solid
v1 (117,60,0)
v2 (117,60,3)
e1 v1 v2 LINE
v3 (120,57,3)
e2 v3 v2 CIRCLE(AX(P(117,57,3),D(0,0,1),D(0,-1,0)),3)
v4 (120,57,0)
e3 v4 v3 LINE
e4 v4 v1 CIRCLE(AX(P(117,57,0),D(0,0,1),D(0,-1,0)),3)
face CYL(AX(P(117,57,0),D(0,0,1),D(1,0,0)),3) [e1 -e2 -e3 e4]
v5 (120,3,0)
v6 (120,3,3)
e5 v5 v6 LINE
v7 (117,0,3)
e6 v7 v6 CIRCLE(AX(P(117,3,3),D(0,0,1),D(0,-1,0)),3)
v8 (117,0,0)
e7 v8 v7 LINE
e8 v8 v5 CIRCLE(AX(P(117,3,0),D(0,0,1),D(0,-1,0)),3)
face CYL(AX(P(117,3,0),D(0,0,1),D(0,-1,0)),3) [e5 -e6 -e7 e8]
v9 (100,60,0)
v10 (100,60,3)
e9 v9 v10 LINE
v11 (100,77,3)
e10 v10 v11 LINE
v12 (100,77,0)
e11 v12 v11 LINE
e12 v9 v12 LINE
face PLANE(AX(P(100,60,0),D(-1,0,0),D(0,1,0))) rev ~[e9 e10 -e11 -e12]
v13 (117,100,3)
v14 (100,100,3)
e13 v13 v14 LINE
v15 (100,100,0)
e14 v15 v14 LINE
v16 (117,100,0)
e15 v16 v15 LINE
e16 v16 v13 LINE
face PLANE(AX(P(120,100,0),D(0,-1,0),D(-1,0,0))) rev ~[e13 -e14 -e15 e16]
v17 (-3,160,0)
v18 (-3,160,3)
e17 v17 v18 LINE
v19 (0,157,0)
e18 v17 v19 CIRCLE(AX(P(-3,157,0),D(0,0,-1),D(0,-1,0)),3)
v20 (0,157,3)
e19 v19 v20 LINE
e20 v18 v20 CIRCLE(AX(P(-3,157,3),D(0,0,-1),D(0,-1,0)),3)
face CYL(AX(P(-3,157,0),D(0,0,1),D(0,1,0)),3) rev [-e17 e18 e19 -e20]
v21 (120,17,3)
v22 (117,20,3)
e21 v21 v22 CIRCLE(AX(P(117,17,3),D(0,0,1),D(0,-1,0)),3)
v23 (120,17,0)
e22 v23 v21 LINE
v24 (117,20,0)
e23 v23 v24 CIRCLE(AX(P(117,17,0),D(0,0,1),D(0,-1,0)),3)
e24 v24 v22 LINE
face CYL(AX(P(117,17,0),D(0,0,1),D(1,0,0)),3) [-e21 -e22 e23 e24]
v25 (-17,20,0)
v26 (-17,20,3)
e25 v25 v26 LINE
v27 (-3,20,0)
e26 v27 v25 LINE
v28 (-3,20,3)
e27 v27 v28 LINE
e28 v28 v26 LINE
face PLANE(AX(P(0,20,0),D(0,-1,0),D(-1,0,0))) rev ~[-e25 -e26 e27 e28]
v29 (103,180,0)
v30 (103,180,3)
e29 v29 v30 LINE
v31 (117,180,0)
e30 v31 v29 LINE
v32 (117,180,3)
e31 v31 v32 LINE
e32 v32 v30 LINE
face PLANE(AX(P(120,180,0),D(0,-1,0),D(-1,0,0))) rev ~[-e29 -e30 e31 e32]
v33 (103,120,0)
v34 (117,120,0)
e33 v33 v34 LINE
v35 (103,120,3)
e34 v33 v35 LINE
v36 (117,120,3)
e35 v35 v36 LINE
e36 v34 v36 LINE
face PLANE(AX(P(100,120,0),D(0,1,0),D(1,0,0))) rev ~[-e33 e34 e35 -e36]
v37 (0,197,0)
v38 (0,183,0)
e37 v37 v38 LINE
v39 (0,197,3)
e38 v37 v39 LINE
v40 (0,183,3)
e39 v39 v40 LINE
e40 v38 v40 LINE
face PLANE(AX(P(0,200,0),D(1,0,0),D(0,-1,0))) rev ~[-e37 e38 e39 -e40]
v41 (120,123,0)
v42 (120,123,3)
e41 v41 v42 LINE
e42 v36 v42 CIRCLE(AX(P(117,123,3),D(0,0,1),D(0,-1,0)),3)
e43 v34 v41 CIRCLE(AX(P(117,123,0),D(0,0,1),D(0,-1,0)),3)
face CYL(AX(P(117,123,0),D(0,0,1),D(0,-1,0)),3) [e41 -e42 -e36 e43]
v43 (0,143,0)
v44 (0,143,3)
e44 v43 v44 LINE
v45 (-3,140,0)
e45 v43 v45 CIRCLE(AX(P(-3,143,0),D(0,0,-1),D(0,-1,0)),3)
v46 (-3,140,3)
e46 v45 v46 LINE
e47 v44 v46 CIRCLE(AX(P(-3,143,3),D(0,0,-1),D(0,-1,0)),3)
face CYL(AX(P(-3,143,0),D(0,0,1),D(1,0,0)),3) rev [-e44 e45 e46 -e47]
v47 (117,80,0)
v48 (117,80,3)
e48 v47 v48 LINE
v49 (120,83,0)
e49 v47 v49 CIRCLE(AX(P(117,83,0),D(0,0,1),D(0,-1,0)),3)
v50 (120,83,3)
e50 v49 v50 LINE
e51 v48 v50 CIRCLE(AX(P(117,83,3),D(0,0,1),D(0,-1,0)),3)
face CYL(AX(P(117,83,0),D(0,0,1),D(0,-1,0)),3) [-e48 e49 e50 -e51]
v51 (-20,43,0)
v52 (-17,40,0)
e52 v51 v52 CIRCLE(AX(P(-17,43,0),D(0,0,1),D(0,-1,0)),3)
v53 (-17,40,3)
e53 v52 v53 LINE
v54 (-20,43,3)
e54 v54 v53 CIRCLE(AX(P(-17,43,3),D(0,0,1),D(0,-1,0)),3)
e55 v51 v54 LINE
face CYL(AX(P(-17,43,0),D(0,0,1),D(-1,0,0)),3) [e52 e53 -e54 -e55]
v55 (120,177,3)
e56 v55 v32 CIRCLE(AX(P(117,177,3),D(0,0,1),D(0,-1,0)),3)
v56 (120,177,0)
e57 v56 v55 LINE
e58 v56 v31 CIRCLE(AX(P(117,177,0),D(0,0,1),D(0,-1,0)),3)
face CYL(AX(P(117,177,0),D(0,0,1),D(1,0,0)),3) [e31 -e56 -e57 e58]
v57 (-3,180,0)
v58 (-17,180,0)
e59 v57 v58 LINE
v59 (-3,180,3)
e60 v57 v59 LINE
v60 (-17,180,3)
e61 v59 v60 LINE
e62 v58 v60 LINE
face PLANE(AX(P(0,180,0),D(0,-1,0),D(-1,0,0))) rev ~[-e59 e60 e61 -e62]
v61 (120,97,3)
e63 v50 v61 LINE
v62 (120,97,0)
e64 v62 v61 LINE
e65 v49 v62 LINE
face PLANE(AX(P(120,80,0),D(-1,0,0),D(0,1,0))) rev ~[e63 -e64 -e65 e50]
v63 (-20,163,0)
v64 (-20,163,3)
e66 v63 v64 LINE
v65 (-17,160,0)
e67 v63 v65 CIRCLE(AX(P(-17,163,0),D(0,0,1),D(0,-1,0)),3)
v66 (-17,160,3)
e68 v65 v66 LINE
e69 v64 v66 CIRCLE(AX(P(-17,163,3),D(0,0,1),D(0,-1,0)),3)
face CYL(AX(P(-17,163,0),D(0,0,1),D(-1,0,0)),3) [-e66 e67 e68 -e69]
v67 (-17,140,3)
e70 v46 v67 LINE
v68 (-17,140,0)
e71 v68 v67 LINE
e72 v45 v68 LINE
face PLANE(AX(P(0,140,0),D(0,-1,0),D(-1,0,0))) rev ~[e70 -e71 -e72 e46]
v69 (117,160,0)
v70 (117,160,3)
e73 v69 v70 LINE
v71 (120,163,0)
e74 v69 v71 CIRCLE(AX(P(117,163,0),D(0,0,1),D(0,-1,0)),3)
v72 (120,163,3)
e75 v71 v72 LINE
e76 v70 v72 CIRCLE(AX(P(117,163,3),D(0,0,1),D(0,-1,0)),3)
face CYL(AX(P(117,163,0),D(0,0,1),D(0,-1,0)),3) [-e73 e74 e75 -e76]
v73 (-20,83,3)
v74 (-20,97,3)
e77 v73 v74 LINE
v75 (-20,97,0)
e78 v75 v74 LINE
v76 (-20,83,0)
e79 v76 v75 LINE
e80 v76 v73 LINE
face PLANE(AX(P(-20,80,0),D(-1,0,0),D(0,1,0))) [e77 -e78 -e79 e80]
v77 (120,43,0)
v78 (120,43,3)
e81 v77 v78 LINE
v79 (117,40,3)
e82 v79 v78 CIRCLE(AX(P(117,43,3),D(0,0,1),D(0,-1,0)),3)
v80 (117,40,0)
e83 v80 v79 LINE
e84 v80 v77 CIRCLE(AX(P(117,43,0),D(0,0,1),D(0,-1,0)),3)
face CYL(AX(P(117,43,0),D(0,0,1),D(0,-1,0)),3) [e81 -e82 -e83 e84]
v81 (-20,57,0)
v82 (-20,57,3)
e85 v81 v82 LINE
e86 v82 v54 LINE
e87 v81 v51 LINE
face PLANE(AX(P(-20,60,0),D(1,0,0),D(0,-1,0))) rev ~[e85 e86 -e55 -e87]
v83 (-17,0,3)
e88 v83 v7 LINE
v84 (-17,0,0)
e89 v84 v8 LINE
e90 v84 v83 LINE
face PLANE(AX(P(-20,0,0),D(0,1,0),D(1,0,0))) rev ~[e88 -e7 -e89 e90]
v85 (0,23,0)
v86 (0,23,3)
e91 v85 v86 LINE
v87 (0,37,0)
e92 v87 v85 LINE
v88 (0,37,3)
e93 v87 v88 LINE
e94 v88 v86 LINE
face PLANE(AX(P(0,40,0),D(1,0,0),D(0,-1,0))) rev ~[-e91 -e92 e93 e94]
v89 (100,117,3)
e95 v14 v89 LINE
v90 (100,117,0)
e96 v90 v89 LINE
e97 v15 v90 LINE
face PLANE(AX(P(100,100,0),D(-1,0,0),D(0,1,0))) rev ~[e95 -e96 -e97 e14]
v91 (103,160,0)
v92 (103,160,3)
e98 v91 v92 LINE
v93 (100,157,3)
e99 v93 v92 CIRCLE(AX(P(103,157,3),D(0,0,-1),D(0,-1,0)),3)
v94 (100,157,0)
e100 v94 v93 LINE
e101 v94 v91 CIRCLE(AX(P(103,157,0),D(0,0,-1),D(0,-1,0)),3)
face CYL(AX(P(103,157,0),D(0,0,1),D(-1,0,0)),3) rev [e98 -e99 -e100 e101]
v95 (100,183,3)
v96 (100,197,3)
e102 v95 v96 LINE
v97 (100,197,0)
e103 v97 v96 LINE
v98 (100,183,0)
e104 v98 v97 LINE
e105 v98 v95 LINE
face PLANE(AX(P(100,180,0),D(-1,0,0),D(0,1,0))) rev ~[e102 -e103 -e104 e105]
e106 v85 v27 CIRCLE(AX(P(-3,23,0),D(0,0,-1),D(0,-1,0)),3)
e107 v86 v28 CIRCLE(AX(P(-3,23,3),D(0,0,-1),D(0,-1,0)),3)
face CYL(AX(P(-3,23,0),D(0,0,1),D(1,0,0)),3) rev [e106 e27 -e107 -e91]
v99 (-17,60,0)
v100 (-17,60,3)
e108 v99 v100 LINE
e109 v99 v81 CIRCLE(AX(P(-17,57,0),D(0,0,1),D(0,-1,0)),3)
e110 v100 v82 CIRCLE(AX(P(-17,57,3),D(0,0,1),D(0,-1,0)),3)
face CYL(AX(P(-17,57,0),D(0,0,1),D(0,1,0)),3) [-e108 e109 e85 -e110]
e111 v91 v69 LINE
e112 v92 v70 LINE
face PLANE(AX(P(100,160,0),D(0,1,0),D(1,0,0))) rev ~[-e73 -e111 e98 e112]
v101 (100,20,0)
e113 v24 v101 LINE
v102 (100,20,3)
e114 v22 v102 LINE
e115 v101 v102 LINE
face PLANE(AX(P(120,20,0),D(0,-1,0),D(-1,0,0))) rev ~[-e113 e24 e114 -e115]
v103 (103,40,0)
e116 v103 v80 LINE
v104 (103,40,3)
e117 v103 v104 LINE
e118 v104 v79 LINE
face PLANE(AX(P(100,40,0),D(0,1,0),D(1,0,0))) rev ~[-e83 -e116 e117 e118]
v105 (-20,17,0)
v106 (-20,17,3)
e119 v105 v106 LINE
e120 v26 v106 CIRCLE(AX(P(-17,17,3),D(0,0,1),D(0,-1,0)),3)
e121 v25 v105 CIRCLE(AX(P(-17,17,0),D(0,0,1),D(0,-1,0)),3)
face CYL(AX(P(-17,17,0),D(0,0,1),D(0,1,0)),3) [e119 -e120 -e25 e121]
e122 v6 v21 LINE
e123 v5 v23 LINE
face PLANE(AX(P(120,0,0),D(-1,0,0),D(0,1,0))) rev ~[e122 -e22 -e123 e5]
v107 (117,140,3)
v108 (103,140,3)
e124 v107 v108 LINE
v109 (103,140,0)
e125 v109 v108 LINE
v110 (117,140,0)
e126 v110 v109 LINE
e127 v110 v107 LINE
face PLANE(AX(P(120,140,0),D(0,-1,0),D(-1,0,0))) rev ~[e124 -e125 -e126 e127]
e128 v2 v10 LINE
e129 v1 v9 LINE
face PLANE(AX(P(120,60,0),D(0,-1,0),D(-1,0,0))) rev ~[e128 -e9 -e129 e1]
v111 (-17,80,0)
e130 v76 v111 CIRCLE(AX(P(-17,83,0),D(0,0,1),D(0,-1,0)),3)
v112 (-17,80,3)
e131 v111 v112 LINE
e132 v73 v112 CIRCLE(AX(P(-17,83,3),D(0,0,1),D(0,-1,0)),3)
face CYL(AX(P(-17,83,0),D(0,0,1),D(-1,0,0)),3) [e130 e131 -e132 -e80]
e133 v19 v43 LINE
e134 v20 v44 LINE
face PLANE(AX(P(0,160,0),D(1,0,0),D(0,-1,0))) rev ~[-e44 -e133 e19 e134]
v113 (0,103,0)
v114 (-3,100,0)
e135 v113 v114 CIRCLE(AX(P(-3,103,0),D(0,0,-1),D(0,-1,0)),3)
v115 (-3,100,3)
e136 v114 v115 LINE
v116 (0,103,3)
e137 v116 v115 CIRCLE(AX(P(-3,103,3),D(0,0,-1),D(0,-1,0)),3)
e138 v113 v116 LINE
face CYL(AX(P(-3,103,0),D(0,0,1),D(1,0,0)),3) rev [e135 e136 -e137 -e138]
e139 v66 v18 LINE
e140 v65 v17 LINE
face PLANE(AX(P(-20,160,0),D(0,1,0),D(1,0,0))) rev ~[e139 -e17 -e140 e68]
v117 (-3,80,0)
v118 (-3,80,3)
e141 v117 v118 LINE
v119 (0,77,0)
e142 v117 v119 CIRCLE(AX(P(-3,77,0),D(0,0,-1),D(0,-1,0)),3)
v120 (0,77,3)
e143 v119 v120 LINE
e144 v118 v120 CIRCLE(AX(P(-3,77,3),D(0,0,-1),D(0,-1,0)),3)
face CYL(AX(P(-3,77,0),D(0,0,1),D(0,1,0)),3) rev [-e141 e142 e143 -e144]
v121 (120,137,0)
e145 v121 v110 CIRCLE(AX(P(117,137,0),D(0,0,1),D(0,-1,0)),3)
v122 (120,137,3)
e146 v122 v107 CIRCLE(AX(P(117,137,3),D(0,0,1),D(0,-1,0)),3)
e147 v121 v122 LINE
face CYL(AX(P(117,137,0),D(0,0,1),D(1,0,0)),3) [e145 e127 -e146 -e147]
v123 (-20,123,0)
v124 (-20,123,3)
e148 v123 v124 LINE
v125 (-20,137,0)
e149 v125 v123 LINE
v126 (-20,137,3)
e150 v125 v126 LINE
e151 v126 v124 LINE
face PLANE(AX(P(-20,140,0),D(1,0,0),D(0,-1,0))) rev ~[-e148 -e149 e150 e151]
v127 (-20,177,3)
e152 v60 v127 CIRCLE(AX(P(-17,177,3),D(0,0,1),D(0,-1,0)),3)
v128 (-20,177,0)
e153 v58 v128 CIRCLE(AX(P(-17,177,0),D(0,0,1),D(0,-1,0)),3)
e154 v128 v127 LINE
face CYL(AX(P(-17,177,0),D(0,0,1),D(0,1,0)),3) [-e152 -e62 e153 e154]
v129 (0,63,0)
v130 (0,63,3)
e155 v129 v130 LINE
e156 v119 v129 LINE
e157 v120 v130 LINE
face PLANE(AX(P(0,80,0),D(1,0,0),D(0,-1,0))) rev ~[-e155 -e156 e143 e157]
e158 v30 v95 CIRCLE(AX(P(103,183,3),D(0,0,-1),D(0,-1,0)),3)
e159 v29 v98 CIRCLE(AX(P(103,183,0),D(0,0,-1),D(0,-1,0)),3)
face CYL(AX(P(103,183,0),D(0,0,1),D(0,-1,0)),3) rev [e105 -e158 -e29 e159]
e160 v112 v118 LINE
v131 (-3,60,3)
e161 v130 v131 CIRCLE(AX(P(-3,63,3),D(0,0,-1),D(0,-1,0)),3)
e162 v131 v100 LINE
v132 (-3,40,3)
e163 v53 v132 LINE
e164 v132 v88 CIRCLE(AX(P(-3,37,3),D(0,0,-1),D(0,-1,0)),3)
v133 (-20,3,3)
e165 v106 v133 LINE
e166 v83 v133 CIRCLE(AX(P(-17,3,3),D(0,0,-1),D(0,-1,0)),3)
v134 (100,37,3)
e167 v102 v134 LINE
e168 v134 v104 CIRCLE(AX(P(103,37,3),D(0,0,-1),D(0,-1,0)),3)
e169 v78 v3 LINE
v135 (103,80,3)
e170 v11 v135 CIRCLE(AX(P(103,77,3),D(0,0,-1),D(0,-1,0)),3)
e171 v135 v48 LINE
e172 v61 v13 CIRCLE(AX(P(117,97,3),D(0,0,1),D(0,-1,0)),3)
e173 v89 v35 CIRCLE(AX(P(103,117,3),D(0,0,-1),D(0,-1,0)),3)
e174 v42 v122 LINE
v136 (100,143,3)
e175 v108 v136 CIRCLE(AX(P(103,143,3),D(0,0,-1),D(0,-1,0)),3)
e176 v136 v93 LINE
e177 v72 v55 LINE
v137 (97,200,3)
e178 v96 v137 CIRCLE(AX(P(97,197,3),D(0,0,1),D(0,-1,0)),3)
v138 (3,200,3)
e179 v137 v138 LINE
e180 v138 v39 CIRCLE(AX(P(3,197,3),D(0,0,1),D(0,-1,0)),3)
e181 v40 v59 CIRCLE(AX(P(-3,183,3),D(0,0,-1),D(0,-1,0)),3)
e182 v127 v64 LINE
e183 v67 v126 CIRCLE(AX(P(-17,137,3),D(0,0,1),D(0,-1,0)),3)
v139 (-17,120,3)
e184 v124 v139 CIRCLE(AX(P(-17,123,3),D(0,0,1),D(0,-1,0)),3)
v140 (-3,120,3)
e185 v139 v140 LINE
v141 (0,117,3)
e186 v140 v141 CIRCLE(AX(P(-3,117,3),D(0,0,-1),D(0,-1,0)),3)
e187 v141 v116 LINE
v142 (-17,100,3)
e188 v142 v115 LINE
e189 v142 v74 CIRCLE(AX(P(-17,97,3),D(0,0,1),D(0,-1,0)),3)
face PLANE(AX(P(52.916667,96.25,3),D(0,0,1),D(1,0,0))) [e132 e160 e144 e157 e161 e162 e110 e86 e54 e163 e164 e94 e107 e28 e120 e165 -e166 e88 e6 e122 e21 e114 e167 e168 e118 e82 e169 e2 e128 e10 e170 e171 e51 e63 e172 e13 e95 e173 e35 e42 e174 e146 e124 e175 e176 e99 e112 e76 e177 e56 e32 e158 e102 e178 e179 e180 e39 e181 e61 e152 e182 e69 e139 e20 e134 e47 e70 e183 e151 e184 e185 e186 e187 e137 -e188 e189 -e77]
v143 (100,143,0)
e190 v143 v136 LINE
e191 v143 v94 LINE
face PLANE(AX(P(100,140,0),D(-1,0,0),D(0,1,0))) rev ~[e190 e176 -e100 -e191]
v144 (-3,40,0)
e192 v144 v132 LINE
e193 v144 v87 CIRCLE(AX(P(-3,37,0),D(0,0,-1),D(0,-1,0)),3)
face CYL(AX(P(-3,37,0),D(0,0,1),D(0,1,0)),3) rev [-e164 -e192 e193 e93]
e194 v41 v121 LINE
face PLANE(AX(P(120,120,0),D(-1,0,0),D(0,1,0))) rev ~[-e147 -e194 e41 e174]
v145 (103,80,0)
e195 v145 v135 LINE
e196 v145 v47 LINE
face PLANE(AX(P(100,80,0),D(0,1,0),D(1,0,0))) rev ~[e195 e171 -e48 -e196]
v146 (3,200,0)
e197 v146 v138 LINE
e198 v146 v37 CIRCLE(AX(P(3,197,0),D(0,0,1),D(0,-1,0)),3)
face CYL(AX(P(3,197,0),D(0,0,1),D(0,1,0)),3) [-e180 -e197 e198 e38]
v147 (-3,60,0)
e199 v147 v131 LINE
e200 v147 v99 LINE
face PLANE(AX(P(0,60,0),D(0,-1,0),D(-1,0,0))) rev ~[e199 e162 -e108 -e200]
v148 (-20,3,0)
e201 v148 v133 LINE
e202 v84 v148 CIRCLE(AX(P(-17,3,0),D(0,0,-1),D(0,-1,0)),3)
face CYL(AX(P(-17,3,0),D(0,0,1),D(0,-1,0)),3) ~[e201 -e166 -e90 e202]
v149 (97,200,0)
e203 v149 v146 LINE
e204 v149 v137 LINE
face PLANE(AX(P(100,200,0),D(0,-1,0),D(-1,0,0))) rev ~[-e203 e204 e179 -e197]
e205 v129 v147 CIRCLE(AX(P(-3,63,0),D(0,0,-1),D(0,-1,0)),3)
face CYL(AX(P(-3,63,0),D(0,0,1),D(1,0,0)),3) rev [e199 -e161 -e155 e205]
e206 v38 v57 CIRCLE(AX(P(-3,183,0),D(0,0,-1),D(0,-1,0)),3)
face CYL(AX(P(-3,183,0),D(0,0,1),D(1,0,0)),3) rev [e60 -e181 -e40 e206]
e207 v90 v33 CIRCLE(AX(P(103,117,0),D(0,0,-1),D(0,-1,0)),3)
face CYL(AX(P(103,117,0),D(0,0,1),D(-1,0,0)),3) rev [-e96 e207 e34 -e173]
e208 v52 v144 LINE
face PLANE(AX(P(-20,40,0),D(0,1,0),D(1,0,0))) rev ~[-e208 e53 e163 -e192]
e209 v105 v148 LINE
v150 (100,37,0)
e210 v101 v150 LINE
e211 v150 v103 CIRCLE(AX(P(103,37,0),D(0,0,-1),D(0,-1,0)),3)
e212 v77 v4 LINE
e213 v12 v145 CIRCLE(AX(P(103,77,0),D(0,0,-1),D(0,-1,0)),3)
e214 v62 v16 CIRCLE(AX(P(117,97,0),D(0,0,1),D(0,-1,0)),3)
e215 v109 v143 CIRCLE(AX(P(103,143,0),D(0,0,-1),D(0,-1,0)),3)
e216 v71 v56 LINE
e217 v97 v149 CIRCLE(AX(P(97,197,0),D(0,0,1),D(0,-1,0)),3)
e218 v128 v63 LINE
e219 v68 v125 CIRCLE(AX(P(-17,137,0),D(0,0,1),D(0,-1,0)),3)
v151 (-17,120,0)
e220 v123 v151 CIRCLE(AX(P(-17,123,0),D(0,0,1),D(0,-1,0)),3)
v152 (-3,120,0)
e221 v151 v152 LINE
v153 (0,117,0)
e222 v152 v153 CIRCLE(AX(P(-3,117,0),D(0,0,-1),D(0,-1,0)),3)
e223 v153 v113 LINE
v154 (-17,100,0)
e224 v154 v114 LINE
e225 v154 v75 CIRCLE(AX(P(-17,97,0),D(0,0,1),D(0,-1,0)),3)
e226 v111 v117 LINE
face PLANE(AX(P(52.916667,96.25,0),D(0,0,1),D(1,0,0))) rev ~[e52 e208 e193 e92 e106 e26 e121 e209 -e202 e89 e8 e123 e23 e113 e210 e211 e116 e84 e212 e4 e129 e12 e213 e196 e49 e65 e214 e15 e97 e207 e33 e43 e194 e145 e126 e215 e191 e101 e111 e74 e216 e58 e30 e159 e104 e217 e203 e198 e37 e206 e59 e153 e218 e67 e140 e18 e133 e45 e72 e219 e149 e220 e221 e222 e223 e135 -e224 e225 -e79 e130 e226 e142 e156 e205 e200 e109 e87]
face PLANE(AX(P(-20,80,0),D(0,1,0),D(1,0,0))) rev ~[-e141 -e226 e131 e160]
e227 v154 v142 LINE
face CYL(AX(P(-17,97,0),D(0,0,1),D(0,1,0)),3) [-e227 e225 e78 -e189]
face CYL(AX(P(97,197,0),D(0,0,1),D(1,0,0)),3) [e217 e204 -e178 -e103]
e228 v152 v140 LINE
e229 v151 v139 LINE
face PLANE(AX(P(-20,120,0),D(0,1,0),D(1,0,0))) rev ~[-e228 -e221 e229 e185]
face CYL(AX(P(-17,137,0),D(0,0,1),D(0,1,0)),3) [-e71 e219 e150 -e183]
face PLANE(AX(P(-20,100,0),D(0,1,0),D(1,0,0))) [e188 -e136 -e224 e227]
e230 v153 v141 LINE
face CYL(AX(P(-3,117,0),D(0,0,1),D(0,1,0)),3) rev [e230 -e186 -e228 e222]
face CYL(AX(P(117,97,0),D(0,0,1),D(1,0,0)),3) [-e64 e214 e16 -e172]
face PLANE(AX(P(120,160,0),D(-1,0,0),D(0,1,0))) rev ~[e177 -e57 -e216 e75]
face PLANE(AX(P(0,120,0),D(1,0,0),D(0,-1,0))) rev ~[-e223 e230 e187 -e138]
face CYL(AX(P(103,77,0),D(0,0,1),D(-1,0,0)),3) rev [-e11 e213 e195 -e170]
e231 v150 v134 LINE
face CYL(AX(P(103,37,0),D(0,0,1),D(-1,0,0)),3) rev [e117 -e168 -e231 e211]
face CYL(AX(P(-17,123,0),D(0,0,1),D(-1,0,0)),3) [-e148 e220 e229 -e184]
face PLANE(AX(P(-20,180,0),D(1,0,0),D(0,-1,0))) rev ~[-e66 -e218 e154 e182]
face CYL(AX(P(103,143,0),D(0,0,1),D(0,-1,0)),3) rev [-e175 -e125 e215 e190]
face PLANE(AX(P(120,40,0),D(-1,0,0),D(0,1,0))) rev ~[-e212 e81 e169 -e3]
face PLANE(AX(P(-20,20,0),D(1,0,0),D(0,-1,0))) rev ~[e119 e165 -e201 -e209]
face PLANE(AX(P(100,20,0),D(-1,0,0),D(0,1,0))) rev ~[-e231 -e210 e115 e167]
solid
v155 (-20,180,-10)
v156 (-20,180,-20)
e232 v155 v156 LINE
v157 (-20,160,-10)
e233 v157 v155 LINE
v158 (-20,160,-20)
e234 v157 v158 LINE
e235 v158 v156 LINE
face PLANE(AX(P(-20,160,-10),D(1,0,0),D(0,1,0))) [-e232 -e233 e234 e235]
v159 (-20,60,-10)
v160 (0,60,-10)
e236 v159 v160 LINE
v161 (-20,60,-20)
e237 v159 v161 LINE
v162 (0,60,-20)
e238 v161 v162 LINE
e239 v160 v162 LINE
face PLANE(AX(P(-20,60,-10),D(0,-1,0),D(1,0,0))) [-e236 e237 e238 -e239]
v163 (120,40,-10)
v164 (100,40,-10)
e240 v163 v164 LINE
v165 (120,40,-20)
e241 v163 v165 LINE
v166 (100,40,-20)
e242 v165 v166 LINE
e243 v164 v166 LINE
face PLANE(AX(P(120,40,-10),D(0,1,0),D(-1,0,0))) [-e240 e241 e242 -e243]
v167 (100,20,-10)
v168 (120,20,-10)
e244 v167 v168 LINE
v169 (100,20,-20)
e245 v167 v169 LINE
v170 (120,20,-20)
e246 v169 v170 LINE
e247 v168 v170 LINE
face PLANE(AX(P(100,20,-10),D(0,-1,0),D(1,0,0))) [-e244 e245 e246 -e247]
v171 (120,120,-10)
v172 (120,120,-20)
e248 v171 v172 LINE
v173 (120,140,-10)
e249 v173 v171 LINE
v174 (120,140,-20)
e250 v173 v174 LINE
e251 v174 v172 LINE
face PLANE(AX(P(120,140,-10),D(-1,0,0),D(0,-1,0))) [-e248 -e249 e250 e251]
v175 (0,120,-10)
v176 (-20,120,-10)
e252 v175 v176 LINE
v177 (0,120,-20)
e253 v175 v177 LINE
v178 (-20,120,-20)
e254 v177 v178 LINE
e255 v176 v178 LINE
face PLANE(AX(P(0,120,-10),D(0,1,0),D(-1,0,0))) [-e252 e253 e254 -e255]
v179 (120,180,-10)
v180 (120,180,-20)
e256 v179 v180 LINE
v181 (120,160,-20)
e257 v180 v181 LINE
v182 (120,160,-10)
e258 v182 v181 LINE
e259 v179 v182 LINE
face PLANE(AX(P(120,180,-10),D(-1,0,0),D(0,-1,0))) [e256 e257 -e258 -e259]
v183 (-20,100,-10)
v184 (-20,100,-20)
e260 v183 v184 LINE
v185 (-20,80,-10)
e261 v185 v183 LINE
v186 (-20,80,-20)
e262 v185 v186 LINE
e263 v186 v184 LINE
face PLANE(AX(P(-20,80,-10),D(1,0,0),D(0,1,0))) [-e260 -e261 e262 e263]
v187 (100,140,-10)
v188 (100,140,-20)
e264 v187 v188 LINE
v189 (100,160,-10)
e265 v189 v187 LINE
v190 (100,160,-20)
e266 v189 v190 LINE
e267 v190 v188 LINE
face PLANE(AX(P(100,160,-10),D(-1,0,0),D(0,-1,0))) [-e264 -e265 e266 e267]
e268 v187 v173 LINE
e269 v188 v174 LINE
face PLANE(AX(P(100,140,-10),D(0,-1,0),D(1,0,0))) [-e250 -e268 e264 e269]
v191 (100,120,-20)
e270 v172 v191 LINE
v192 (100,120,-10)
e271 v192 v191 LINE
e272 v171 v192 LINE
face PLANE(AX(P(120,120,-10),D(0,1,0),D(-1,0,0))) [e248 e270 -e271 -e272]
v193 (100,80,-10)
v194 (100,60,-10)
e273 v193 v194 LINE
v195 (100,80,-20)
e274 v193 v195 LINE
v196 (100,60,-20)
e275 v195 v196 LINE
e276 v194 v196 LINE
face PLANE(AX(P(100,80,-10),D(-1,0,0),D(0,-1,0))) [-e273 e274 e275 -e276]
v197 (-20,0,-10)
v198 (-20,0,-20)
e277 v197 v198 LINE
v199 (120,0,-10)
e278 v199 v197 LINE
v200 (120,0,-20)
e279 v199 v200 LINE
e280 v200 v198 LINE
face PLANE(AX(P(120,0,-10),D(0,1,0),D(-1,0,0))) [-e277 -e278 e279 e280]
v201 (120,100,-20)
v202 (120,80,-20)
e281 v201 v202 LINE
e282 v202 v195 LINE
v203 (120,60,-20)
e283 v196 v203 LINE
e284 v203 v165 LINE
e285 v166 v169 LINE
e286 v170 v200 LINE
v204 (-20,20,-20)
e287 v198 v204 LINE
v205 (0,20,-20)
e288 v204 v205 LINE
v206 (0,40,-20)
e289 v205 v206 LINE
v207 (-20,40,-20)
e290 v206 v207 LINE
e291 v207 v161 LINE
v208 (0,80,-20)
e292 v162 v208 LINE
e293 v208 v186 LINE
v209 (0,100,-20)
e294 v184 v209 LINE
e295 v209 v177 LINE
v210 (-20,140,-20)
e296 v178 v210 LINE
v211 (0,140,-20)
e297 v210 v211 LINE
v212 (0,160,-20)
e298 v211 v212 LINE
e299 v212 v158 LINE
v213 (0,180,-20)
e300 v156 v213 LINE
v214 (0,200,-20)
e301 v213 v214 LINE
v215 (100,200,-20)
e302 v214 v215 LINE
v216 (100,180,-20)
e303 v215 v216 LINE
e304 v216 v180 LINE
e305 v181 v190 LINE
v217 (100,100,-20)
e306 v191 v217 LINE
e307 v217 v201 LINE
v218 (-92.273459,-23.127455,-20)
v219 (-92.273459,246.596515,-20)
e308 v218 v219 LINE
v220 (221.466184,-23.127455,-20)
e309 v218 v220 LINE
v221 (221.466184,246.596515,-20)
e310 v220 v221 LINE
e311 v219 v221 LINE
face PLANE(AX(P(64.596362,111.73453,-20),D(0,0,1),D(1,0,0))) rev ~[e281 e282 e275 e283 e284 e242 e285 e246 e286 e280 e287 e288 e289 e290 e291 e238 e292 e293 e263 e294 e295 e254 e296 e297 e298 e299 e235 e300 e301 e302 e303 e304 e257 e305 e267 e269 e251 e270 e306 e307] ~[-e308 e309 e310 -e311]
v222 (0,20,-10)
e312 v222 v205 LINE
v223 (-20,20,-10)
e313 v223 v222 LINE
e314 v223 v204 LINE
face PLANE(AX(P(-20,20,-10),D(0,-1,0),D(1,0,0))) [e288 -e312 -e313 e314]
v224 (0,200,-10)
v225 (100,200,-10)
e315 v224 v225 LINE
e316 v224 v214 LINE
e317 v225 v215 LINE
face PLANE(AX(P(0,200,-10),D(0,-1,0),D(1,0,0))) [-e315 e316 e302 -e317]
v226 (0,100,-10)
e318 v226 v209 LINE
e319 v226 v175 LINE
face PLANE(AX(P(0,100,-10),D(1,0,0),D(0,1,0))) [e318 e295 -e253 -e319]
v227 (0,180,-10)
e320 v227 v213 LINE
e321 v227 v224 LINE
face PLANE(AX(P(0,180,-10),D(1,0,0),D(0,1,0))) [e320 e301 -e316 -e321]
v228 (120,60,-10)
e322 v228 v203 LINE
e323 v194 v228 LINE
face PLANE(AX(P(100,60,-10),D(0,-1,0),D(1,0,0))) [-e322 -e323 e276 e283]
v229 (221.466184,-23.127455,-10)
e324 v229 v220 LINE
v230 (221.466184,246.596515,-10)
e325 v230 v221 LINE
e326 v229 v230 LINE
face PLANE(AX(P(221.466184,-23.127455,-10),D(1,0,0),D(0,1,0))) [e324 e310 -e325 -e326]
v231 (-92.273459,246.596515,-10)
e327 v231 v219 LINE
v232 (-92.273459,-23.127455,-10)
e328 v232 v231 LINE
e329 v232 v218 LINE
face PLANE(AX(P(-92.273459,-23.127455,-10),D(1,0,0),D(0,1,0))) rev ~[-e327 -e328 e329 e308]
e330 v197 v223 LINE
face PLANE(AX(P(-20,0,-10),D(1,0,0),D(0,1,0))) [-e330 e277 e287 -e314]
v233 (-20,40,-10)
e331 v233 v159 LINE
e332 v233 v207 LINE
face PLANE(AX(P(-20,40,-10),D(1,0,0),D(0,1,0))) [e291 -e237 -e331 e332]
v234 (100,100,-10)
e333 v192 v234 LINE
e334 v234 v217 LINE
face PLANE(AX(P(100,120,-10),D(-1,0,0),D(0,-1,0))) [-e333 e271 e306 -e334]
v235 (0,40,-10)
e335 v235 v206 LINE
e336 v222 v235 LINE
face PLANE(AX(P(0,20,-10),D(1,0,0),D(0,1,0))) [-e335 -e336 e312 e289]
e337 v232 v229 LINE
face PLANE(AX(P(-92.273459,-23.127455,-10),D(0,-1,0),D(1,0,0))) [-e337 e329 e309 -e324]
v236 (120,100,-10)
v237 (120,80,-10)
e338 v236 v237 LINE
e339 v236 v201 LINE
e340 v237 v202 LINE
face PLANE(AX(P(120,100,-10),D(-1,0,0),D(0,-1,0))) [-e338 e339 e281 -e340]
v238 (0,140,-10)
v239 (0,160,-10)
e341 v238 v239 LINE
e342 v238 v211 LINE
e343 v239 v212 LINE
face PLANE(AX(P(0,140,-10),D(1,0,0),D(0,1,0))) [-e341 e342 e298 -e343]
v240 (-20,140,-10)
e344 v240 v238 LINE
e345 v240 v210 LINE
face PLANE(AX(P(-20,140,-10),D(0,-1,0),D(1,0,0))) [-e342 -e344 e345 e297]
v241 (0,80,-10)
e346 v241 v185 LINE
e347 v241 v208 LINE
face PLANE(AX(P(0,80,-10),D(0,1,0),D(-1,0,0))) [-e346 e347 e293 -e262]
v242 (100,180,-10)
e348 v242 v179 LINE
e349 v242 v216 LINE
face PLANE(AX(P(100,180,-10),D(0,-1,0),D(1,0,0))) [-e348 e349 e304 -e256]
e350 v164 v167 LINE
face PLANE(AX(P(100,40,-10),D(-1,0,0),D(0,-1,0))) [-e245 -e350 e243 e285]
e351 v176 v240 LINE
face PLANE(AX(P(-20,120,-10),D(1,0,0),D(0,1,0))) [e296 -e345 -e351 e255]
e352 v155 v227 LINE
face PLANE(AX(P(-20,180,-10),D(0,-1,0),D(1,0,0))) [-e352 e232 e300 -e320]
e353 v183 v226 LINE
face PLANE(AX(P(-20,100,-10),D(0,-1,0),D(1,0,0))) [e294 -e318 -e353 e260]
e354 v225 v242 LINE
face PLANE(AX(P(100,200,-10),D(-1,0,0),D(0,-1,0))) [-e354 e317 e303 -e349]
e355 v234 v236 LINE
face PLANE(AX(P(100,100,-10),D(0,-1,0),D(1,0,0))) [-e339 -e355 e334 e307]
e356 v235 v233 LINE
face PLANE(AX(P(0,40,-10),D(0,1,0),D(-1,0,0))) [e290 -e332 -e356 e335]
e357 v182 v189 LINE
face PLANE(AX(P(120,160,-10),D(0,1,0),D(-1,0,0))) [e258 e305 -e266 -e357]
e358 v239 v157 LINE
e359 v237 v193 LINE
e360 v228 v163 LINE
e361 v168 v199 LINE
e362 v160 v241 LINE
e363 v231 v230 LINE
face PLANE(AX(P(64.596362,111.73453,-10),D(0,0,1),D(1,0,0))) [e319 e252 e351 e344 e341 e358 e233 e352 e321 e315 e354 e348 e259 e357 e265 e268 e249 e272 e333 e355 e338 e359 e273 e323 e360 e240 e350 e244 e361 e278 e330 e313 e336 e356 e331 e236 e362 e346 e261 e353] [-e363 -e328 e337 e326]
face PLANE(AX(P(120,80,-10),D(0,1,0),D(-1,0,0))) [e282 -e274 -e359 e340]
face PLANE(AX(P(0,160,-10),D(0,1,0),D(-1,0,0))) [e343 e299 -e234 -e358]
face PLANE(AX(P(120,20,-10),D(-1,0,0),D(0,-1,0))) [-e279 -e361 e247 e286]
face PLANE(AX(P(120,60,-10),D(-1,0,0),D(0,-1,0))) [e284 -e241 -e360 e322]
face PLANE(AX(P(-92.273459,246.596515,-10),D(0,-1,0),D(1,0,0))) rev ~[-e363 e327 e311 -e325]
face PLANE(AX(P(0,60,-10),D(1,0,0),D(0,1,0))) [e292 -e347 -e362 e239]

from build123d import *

# Parameters (mm, degrees)
F0_W     = 20
F0_H     = 20
F1_DEPTH = 3
F2_R     = 3
F3_START = -10
F0_W_2   = 313.7396425009
F0_H_2   = 269.723970443
F3_DEPTH = 10


with BuildPart() as f1:
    # F0 (on Top) → F1 (new body)
    with BuildSketch(Plane.XY):
        Polygon((-20, 0), (0, 0), (100, 0), (120, 0), (120, 20), (100, 20), (100, 40), (120, 40), (120, 60), (100, 60), (100, 80), (120, 80), (120, 100), (100, 100), (100, 120), (120, 120), (120, 140), (100, 140), (100, 160), (120, 160), (120, 180), (100, 180), (100, 200), (0, 200), (0, 180), (-20, 180), (-20, 160), (0, 160), (0, 140), (-20, 140), (-20, 120), (0, 120), (0, 100), (0, 80), (0, 60), (-20, 60), (-20, 40), (0, 40), (0, 20), (-20, 20), align=None)
        with Locations((-10, 90)):
            Rectangle(F0_W, F0_H)
    extrude(amount=F1_DEPTH)

    # F2
    f2_edges = [f1.edges().sort_by_distance(p)[0] for p in [
        (120, 160, 1.5),
        (100, 160, 1.5),
        (100, 120, 1.5),
        (100, 80, 1.5),
        (120, 80, 1.5),
        (120, 40, 1.5),
        (100, 40, 1.5),
        (120, 0, 1.5),
        (120, 20, 1.5),
        (120, 60, 1.5),
        (120, 100, 1.5),
        (120, 120, 1.5),
        (120, 140, 1.5),
        (120, 180, 1.5),
        (100, 200, 1.5),
        (-20, 40, 1.5),
        (-20, 0, 1.5),
        (-20, 80, 1.5),
        (-20, 120, 1.5),
        (-20, 160, 1.5),
        (-20, 180, 1.5),
        (0, 180, 1.5),
        (0, 140, 1.5),
        (0, 100, 1.5),
        (0, 60, 1.5),
        (0, 20, 1.5),
        (0, 120, 1.5),
        (0, 160, 1.5),
        (0, 40, 1.5),
        (0, 200, 1.5),
        (-20, 20, 1.5),
        (-20, 140, 1.5),
        (-20, 100, 1.5),
        (-20, 60, 1.5),
        (100, 140, 1.5),
        (0, 80, 1.5),
        (100, 180, 1.5),
    ]]
    fillet(f2_edges, radius=F2_R)


with BuildPart() as f3:
    # F0 (on Top) → F3 (new body)
    with BuildSketch(Plane.XY.offset(F3_START)):
        with Locations((64.596362412, 111.7345299572)):
            Rectangle(F0_W_2, F0_H_2)
        Polygon((100, 0), (0, 0), (-20, 0), (-20, 20), (0, 20), (0, 40), (-20, 40), (-20, 60), (0, 60), (0, 80), (-20, 80), (-20, 100), (0, 100), (0, 120), (-20, 120), (-20, 140), (0, 140), (0, 160), (-20, 160), (-20, 180), (0, 180), (0, 200), (100, 200), (100, 180), (120, 180), (120, 160), (100, 160), (100, 140), (120, 140), (120, 120), (100, 120), (100, 100), (120, 100), (120, 80), (100, 80), (100, 60), (120, 60), (120, 40), (100, 40), (100, 20), (120, 20), (120, 0), align=None, mode=Mode.SUBTRACT)
    extrude(amount=-F3_DEPTH)


solid = Compound([f1.part, f3.part])
